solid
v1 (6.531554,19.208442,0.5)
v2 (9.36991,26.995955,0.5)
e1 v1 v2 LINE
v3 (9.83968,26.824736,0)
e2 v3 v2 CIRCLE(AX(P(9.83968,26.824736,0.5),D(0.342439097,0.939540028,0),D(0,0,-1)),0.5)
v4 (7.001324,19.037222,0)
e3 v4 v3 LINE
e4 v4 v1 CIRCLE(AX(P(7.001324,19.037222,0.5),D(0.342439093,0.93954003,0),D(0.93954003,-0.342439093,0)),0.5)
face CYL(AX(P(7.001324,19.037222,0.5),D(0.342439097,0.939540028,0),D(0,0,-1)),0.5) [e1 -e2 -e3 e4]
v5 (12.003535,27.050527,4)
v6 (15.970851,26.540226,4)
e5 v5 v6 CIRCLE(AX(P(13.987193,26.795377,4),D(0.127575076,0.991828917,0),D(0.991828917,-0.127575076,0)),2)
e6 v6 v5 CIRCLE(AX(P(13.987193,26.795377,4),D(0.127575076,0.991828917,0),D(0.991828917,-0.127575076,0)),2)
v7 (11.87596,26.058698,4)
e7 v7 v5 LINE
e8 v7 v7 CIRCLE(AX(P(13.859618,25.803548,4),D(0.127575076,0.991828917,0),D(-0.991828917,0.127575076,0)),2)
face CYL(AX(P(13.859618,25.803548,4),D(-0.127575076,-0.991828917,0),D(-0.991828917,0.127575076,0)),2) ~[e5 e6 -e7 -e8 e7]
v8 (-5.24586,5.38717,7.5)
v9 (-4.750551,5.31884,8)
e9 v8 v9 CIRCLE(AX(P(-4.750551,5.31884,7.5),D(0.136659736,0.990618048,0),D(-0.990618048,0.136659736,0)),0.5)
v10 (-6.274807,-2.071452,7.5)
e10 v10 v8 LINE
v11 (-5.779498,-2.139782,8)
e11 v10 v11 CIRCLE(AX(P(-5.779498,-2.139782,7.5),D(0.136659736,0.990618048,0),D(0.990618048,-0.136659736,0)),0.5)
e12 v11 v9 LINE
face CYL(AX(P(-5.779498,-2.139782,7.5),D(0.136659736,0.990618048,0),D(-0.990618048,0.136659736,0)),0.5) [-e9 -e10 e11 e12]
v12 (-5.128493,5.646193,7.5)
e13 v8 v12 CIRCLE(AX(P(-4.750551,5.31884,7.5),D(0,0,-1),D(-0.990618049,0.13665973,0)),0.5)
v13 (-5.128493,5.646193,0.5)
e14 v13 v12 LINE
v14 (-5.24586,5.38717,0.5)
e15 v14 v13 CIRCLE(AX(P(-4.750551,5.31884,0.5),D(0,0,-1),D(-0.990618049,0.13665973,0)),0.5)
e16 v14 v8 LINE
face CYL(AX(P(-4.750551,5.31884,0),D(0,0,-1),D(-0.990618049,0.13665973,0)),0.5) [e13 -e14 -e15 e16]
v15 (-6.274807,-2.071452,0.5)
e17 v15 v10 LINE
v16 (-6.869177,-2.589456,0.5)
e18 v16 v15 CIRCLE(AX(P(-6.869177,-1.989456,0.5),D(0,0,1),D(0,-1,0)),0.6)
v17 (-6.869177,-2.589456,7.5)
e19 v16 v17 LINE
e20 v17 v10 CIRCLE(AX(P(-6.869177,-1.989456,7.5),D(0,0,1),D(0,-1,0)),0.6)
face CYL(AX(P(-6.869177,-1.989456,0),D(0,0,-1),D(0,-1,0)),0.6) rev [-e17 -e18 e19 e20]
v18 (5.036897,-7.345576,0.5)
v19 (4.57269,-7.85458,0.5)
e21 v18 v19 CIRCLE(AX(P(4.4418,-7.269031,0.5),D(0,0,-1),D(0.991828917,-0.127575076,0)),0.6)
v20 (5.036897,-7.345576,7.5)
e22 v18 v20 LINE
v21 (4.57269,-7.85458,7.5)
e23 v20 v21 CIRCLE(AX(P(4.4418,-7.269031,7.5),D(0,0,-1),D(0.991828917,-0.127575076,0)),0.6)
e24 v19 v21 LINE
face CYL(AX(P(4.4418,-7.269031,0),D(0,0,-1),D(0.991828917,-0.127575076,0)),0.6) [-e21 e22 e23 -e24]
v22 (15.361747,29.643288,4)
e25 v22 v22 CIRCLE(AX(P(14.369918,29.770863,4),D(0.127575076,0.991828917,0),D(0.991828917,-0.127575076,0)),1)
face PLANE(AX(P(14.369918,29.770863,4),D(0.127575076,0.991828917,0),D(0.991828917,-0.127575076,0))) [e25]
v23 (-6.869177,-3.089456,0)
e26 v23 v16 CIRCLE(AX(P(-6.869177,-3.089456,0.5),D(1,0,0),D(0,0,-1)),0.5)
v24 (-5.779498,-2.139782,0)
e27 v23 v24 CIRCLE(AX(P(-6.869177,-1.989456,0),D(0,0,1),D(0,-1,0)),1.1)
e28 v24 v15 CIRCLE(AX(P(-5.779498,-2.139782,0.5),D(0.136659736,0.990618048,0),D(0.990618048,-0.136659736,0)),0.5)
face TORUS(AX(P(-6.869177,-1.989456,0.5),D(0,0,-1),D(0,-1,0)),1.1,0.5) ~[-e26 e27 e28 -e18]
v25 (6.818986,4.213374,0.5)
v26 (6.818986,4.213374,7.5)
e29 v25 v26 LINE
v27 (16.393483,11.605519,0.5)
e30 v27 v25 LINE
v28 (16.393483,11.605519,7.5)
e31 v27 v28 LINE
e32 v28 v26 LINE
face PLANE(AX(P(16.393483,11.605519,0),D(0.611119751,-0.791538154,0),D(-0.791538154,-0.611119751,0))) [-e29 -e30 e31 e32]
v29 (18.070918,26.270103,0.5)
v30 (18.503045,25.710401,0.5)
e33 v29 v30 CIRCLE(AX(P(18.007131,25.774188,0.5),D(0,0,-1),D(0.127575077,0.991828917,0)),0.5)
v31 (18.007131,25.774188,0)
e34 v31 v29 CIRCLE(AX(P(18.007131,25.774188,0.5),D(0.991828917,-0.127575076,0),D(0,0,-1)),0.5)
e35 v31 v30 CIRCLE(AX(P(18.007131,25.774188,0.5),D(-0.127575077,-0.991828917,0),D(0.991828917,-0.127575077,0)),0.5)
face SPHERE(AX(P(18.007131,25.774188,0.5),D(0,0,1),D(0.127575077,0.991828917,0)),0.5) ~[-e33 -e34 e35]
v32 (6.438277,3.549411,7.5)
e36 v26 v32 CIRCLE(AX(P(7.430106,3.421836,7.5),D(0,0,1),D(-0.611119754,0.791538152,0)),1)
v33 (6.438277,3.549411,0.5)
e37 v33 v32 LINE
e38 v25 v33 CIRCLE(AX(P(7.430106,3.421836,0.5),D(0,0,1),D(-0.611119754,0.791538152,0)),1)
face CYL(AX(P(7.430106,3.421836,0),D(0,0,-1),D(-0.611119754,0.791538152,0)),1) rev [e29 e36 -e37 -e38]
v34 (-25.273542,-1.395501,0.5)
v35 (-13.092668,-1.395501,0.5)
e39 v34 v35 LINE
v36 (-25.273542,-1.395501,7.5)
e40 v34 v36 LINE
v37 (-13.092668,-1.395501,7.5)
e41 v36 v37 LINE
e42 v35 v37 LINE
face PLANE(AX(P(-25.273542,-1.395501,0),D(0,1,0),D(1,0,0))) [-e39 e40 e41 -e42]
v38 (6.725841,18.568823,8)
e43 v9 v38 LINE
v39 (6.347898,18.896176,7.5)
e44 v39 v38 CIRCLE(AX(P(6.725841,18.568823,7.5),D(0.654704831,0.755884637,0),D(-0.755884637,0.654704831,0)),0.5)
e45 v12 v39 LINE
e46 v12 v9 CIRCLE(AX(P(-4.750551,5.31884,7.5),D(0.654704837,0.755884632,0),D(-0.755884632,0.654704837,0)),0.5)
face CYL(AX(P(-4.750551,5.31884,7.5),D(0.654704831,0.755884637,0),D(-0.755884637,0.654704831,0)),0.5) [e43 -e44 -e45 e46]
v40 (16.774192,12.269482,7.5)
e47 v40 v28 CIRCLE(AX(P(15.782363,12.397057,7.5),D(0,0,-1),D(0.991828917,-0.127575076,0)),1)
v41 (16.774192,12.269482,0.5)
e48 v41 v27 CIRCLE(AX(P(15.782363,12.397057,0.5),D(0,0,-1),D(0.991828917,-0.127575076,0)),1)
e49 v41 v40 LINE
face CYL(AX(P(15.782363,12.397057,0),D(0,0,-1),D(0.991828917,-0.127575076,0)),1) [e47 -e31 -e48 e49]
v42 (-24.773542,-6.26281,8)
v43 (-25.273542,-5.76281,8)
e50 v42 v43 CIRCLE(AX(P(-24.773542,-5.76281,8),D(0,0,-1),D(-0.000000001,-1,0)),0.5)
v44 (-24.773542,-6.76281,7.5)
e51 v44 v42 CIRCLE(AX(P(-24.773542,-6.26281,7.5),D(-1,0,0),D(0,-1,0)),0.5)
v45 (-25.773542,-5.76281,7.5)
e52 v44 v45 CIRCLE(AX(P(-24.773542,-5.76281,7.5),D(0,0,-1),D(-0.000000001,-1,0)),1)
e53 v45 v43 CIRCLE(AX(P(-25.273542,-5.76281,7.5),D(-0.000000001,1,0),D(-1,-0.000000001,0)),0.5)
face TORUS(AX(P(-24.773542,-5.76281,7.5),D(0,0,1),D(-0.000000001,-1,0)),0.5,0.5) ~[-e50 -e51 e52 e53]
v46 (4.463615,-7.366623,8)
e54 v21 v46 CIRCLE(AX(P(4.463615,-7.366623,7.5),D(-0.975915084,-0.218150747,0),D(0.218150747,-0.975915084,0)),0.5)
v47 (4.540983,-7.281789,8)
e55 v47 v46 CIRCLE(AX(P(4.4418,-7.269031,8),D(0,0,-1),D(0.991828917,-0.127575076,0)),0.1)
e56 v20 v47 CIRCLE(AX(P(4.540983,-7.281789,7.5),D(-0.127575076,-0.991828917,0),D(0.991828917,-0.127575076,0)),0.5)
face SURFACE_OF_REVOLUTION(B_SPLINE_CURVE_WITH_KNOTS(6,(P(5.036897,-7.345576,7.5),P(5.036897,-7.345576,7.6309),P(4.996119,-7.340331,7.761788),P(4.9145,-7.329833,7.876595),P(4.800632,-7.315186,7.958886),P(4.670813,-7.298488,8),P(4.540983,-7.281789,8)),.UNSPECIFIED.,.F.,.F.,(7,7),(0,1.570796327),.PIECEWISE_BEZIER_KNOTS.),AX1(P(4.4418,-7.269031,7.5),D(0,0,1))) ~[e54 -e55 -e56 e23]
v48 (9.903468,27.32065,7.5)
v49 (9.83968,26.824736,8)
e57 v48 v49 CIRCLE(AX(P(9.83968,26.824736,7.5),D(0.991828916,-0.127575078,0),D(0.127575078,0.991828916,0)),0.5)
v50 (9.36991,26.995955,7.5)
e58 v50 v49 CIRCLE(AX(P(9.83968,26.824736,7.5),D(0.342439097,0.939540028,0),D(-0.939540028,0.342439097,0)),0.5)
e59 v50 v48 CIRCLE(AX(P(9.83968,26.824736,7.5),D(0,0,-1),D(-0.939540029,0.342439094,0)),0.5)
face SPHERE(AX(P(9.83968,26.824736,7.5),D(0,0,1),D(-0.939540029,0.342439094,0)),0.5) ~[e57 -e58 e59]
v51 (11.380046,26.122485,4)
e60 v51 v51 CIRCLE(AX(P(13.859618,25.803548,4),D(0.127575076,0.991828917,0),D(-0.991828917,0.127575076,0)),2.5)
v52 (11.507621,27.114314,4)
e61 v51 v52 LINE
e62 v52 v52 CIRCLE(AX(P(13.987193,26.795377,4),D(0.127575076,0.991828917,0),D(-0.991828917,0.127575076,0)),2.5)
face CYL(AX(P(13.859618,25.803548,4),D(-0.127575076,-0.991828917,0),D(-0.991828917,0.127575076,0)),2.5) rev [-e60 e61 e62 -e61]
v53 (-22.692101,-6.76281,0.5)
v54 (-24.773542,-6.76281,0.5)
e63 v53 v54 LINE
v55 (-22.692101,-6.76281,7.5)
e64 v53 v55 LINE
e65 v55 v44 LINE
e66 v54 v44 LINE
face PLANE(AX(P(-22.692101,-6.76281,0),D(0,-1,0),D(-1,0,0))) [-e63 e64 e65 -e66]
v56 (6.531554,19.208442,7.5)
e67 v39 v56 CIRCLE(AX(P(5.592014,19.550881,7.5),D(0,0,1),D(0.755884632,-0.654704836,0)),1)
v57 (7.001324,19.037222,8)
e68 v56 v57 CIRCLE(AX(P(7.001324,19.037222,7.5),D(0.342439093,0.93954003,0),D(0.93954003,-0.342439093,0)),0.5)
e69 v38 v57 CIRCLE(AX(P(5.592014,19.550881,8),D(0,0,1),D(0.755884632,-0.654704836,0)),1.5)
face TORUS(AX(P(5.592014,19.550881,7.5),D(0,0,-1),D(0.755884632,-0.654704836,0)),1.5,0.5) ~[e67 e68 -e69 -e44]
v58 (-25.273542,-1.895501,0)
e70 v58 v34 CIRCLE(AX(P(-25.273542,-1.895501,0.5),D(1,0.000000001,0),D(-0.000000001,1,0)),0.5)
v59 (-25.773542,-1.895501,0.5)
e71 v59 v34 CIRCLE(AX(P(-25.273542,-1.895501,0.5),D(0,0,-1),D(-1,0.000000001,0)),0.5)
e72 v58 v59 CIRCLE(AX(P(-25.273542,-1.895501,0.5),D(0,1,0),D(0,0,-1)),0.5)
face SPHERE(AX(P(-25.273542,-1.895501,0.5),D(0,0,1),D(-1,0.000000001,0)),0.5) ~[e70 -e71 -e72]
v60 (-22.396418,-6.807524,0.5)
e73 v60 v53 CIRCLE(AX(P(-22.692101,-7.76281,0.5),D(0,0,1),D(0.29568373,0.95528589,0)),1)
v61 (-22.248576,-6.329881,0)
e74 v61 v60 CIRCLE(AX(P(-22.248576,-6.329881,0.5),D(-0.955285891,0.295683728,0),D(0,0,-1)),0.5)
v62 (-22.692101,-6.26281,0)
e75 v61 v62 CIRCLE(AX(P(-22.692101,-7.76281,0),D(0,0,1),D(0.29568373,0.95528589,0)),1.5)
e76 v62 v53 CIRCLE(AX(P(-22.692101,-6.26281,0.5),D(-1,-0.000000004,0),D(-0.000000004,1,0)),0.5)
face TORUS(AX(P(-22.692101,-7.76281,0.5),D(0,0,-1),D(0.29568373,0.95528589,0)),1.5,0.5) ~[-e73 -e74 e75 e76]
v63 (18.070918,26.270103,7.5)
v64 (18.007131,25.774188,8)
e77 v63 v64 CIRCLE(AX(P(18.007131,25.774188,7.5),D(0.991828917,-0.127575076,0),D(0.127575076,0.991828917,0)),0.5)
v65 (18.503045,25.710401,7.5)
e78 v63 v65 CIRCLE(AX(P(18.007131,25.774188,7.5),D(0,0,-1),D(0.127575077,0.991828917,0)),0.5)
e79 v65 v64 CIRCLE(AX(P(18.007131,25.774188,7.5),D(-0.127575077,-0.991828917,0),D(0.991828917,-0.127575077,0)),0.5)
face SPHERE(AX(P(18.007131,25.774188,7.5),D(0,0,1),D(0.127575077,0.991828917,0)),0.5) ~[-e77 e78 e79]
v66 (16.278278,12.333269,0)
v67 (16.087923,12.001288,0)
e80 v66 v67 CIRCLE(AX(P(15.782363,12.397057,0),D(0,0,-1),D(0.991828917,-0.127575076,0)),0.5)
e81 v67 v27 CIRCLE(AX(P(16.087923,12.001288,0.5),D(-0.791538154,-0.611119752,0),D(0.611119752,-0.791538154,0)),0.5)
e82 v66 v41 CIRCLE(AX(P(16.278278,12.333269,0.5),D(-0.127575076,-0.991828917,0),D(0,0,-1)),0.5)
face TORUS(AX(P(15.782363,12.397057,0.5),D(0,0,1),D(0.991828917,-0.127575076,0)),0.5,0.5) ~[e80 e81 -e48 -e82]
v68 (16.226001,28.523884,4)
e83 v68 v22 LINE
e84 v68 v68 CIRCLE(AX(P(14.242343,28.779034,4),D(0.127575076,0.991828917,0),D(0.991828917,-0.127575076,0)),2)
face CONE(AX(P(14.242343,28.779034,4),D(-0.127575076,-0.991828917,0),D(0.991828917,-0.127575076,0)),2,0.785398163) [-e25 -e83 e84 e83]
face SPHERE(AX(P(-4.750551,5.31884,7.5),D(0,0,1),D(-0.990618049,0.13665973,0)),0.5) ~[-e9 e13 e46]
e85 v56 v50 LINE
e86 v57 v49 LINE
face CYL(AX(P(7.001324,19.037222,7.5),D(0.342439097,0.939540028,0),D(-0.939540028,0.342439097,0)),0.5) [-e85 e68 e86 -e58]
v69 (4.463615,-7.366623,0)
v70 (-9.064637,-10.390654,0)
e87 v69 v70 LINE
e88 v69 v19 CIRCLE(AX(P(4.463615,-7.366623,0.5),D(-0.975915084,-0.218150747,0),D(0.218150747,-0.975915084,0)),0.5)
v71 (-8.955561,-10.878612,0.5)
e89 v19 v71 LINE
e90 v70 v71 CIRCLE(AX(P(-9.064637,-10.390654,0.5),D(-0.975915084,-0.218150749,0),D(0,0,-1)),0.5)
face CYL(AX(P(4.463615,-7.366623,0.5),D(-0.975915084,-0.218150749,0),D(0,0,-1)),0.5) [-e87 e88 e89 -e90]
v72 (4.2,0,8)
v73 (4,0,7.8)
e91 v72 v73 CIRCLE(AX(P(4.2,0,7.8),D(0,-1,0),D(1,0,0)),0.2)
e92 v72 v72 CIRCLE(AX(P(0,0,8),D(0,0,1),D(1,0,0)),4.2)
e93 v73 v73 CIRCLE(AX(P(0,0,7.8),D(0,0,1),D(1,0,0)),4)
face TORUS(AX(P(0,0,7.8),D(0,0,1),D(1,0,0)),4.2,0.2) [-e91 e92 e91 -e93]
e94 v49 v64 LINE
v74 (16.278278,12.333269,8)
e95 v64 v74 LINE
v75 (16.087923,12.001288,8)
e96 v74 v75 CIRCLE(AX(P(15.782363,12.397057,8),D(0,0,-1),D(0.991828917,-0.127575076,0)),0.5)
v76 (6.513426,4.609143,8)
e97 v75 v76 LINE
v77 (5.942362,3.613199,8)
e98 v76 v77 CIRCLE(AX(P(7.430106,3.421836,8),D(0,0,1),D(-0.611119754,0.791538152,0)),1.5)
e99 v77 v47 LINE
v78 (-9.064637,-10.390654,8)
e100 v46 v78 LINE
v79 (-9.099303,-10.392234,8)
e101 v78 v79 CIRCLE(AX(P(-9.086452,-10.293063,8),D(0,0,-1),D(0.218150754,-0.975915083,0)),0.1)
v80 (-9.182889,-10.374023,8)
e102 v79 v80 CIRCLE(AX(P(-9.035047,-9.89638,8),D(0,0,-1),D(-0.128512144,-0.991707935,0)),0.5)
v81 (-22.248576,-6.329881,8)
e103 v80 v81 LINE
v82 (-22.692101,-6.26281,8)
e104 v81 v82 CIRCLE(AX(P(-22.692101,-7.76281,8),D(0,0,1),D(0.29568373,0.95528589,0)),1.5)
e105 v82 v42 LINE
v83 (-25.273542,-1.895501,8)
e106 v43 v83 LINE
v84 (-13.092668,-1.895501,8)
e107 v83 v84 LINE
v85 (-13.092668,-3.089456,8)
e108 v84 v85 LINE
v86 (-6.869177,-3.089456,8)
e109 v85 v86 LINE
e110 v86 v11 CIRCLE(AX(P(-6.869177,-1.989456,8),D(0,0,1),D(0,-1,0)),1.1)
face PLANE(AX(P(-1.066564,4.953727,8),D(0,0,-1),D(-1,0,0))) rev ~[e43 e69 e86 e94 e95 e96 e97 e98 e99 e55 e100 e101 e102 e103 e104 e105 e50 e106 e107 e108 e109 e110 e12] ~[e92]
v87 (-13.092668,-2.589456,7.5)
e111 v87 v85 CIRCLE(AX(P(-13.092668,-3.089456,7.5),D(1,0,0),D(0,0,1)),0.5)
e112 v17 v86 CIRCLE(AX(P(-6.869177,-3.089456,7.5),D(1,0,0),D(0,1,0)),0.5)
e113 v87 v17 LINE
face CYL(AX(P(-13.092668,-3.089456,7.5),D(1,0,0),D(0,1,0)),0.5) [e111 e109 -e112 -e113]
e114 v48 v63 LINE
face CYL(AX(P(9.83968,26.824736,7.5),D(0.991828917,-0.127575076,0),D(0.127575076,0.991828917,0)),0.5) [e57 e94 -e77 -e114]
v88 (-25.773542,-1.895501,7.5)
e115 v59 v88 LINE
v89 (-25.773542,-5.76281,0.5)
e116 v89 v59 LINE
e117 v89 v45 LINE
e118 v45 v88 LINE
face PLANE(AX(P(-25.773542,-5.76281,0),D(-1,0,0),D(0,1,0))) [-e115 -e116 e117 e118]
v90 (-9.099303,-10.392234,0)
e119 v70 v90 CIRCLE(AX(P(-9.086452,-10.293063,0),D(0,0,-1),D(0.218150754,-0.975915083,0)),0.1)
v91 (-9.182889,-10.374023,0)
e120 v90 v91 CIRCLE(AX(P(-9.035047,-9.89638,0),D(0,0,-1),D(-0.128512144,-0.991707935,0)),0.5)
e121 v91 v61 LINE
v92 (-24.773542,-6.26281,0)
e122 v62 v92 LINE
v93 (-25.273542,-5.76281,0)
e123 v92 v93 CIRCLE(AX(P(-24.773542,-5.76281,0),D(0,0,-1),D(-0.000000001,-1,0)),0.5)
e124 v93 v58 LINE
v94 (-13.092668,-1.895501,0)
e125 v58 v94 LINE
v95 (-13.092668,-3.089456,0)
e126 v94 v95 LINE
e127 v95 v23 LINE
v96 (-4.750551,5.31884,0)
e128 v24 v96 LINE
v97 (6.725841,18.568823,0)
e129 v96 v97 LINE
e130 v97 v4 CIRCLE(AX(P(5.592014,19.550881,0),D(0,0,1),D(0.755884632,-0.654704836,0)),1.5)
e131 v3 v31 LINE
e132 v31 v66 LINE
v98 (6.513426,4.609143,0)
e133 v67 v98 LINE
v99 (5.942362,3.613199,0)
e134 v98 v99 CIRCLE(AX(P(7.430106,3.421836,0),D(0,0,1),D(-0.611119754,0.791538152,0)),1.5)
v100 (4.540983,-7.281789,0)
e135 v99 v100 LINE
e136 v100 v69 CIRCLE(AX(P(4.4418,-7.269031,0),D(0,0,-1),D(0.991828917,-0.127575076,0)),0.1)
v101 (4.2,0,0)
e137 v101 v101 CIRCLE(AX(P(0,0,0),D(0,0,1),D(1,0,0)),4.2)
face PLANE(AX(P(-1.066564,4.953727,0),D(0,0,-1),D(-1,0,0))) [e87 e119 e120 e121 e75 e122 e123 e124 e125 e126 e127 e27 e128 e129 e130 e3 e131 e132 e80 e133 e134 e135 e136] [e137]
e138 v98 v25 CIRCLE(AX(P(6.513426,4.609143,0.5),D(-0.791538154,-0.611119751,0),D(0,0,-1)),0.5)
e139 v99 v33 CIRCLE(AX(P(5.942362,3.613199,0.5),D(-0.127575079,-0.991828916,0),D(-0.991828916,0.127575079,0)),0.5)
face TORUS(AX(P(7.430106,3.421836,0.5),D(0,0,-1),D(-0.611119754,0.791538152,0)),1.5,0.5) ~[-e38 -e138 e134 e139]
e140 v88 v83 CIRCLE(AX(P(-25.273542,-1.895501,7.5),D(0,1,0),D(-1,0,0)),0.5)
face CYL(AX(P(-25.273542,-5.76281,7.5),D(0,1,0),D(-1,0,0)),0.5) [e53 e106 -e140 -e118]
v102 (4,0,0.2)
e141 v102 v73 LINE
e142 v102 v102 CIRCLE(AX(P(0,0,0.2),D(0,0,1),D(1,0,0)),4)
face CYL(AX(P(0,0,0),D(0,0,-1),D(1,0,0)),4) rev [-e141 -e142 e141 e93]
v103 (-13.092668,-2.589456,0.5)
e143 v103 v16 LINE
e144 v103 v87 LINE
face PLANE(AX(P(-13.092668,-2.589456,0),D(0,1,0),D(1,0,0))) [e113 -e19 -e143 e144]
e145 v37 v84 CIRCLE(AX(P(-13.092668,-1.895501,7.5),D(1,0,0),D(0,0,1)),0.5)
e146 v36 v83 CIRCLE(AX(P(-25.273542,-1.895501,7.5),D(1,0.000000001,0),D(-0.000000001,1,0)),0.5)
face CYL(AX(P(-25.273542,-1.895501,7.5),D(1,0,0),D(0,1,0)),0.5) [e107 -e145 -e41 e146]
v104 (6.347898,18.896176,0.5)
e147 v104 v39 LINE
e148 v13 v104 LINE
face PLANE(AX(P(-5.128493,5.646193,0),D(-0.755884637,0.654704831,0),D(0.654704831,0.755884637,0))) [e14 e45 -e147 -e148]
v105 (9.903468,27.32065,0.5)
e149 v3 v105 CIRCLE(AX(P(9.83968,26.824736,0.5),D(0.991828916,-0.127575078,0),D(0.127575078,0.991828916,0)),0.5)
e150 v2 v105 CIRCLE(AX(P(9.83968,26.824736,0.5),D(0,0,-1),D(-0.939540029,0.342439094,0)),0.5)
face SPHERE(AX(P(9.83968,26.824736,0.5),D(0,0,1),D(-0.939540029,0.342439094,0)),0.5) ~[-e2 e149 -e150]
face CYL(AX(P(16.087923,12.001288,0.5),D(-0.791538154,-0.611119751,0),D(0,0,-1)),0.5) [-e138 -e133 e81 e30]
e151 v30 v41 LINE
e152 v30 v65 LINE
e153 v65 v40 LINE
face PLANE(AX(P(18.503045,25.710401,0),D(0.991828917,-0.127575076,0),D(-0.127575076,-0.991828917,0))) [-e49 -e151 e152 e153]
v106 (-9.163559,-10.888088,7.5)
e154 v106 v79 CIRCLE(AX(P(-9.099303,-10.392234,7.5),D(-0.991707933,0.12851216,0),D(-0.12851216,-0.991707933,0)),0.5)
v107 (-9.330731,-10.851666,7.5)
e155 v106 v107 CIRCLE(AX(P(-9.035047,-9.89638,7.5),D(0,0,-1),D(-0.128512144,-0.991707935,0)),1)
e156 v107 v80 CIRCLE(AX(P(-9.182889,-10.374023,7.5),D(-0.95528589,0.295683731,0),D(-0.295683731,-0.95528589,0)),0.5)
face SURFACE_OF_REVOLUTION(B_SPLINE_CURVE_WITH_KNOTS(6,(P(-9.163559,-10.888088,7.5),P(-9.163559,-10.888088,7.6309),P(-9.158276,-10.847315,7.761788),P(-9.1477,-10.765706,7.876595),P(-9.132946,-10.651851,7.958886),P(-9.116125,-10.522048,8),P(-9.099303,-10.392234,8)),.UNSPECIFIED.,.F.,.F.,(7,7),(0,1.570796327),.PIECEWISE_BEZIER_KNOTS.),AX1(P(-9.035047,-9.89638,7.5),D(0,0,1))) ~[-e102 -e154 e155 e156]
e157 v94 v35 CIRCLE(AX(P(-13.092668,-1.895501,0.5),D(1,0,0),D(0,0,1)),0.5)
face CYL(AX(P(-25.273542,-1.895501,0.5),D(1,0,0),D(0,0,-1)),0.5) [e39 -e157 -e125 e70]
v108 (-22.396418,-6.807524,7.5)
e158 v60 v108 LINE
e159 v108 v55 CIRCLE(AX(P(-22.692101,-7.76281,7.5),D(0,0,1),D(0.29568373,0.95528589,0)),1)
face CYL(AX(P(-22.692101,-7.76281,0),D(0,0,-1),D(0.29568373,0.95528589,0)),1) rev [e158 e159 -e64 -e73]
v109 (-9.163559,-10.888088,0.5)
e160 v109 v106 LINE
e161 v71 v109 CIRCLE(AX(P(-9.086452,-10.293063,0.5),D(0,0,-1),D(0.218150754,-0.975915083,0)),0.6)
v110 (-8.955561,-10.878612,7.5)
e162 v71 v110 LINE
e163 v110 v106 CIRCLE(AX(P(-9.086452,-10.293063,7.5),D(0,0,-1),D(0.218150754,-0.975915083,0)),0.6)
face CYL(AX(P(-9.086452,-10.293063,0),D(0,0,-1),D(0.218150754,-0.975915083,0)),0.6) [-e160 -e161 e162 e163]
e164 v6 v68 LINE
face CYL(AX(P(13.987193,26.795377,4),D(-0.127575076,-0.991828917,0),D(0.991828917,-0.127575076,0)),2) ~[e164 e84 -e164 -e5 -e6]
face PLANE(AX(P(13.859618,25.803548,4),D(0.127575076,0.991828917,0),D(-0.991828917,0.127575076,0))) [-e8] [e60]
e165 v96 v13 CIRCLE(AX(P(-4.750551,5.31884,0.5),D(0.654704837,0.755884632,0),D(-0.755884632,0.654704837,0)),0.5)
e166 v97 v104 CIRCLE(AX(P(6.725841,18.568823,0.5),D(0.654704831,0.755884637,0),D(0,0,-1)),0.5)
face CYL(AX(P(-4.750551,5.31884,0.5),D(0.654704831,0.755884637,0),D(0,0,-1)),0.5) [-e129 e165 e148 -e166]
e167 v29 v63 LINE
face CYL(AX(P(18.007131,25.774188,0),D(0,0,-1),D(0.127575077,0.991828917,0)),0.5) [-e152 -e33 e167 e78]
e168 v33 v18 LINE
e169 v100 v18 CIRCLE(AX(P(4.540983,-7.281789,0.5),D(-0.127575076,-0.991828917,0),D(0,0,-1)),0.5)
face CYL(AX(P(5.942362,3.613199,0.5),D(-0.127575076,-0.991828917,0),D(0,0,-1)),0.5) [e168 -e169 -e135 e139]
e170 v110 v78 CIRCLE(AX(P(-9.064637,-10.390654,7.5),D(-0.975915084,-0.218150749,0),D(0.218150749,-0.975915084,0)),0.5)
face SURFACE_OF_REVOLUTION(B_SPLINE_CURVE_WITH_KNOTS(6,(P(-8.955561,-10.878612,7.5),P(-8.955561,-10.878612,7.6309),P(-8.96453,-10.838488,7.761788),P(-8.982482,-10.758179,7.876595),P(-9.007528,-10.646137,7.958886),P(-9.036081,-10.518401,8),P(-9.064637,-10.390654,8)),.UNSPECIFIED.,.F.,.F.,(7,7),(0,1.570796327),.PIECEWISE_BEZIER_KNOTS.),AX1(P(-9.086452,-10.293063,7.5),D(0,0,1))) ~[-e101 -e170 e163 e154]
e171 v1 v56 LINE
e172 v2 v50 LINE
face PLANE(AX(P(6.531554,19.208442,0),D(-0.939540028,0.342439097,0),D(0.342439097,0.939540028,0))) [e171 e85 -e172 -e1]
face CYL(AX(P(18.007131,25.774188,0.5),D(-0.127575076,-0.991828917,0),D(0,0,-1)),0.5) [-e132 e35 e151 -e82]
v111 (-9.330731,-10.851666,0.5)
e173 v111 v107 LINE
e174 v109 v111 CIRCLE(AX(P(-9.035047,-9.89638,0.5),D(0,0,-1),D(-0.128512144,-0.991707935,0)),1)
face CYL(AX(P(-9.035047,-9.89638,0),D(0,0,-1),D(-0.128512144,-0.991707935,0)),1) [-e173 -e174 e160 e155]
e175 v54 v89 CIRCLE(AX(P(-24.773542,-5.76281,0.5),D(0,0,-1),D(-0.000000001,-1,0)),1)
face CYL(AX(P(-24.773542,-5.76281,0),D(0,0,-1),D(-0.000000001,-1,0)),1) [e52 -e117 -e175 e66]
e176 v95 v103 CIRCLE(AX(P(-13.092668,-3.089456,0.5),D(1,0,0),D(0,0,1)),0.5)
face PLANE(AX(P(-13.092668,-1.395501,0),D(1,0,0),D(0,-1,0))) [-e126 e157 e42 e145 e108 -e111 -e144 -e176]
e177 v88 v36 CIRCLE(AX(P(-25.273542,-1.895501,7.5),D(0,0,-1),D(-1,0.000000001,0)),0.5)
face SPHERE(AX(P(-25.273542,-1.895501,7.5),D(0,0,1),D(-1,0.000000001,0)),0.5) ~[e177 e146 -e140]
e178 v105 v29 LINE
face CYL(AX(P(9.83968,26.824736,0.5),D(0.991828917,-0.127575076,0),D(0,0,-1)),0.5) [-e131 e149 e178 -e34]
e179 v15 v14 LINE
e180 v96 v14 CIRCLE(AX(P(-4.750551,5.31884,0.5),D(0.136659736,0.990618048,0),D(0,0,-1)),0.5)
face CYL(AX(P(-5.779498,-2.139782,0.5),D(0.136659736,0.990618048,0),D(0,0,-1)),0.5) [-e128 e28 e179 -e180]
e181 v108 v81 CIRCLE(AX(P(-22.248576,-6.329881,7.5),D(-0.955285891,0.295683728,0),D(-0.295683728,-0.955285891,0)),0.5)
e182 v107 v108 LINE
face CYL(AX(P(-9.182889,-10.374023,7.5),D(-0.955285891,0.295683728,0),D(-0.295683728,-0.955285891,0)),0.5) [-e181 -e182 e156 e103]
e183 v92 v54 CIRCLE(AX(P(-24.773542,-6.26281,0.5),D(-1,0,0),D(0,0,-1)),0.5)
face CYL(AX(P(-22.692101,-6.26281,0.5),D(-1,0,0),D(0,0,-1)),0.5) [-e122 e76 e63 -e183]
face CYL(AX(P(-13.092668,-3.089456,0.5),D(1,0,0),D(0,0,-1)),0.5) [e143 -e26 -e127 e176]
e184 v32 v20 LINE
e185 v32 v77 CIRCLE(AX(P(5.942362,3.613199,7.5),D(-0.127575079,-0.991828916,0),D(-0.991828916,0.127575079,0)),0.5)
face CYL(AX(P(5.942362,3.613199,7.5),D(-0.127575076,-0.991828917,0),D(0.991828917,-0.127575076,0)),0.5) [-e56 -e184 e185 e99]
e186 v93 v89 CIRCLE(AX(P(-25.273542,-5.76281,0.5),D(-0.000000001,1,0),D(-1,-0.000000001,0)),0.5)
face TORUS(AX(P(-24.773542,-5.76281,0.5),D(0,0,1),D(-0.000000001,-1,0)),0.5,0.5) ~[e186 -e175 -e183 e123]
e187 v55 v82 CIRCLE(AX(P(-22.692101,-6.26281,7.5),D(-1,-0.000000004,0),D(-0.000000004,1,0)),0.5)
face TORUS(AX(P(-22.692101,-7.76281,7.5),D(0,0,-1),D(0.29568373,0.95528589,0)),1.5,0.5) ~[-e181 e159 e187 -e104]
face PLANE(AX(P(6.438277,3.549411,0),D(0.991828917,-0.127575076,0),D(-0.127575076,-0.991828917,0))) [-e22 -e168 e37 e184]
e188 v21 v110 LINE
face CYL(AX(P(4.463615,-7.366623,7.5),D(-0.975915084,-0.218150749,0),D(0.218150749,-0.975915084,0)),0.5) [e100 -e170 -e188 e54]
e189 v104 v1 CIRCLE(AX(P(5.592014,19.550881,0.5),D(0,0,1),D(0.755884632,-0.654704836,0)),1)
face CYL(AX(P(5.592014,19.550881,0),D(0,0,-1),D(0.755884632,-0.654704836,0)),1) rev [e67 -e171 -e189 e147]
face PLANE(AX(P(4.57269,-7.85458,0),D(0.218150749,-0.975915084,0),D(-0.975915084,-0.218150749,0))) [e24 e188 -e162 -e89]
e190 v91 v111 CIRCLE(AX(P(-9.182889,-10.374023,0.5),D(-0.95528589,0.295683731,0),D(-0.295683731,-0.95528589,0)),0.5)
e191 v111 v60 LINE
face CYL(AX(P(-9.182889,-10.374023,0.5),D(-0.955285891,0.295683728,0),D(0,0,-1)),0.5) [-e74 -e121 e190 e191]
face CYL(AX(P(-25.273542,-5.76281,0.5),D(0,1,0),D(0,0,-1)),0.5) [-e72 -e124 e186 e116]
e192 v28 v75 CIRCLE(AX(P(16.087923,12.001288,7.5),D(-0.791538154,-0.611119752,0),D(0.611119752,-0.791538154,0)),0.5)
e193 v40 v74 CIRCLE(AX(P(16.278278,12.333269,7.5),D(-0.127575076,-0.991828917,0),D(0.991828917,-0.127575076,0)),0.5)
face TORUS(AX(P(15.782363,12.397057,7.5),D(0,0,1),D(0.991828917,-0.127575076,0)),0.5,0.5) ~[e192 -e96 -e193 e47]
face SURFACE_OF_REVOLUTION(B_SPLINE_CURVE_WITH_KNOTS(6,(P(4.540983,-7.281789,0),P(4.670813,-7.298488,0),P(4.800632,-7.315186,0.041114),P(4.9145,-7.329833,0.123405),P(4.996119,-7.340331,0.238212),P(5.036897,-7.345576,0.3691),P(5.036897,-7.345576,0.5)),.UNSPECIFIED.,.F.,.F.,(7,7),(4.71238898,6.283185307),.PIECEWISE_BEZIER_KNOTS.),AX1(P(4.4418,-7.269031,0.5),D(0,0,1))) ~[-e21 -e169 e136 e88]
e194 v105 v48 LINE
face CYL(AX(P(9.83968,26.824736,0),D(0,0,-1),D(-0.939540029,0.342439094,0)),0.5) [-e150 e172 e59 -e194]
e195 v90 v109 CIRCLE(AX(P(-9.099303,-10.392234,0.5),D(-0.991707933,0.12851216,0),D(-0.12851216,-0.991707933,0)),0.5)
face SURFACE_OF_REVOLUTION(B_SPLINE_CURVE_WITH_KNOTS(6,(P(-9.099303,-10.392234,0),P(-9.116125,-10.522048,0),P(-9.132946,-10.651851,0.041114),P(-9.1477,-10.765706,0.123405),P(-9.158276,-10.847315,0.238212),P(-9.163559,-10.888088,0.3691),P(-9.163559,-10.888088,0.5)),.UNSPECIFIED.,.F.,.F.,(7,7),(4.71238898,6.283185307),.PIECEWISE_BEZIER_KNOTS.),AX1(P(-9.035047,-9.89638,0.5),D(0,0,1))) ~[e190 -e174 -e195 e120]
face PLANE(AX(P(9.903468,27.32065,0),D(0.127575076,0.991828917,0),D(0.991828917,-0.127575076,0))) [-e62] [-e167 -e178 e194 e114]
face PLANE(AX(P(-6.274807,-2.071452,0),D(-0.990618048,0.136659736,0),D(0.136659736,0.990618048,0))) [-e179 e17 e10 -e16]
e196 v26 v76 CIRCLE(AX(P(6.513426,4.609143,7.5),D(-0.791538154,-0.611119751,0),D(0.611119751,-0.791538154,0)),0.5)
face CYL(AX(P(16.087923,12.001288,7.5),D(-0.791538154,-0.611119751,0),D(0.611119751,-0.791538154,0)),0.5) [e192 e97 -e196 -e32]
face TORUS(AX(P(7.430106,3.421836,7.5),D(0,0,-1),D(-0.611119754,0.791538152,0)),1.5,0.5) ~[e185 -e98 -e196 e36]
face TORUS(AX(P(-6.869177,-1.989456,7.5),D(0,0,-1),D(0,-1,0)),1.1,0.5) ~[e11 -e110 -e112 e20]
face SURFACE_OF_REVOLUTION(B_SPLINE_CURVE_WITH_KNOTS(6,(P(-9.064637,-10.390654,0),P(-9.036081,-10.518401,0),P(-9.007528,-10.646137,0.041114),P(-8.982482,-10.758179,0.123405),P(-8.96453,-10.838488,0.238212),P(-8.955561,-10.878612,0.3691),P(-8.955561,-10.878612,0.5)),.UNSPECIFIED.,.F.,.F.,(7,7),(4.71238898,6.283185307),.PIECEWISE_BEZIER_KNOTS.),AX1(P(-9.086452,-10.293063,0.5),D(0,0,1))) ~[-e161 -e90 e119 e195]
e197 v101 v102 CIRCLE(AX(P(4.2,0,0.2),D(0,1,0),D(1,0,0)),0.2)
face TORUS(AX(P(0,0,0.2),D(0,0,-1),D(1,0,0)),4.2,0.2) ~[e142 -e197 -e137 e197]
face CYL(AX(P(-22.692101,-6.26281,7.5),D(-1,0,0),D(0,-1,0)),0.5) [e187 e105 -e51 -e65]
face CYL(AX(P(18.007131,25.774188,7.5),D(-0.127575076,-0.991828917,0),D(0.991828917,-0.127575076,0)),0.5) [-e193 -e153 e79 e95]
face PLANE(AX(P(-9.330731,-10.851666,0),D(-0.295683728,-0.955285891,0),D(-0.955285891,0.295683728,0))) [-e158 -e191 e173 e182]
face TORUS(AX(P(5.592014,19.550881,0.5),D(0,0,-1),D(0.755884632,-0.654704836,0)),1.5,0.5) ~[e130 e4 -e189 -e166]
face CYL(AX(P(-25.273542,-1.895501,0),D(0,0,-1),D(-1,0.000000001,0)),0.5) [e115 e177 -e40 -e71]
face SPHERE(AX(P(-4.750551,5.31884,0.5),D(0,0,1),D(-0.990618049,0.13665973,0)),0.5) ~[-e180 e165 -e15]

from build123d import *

# Parameters (mm, degrees)
SKETCH_1_R          = 4
EXTRUDE_1_DEPTH     = 8
SKETCH_2_R          = 2
EXTRUDE_2_DEPTH     = 3
CHAMFER_1_SIZE      = 1
FILLET_1_R          = 0.2
CUT_EXTRUDE_START   = -1
SKETCH_3_R          = 2.5
SKETCH_3_R_2        = 2
CUT_EXTRUDE_1_DEPTH = 1
FILLET_2_R          = 0.5


with BuildPart() as part:
    # 스케치1 → 보스-돌출1 (new body)
    with BuildSketch(Plane.XY):
        with BuildLine():
            Line((18.503045264, 25.710400876), (16.774192381, 12.269481729))
            ThreePointArc((16.774192381, 12.269481729), (16.649873032, 11.899636309), (16.393483216, 11.605518651))
            Line((16.393483216, 11.605518651), (6.818985785, 4.213374054))
            ThreePointArc((6.818985785, 4.213374054), (6.562595969, 3.919256395), (6.43827662, 3.549410976))
            Line((6.43827662, 3.549410976), (5.036897025, -7.345576114))
            ThreePointArc((5.036897025, -7.345576114), (4.885123304, -7.67333808), (4.572690124, -7.854580118))
            Line((4.572690124, -7.854580118), (-8.955561464, -10.878611884))
            ThreePointArc((-8.955561464, -10.878611884), (-9.059146158, -10.892441175), (-9.163559205, -10.888087594))
            ThreePointArc((-9.163559205, -10.888087594), (-9.247925369, -10.873458379), (-9.330730781, -10.851665551))
            Line((-9.330730781, -10.851665551), (-22.39641752, -6.807524417))
            ThreePointArc((-22.39641752, -6.807524417), (-22.542578492, -6.774052023), (-22.692101248, -6.762810308))
            Line((-22.692101248, -6.762810308), (-24.7735417, -6.762810308))
            ThreePointArc((-24.7735417, -6.762810308), (-25.480648481, -6.469917089), (-25.7735417, -5.762810308))
            Line((-25.7735417, -5.762810308), (-25.7735417, -1.895501216))
            ThreePointArc((-25.7735417, -1.895501216), (-25.62709509, -1.541947825), (-25.2735417, -1.395501216))
            Line((-25.2735417, -1.395501216), (-13.092668434, -1.395501216))
            Line((-13.092668434, -1.395501216), (-13.092668434, -2.589456262))
            Line((-13.092668434, -2.589456262), (-6.869177412, -2.589456262))
            ThreePointArc((-6.869177412, -2.589456262), (-6.474967763, -2.441782198), (-6.274806584, -2.071452104))
            Line((-6.274806584, -2.071452104), (-5.245859717, 5.387170068))
            ThreePointArc((-5.245859717, 5.387170068), (-5.205979224, 5.525201179), (-5.128493011, 5.646192616))
            Line((-5.128493011, 5.646192616), (6.347898488, 18.896175834))
            ThreePointArc((6.347898488, 18.896175834), (6.453984658, 19.043922748), (6.53155388, 19.208441568))
            Line((6.53155388, 19.208441568), (9.369909955, 26.995955233))
            ThreePointArc((9.369909955, 26.995955233), (9.579752789, 27.251863138), (9.903467507, 27.320650143))
            Line((9.903467507, 27.320650143), (18.070918344, 26.270102873))
            ThreePointArc((18.070918344, 26.270102873), (18.402899883, 26.07974829), (18.503045264, 25.710400876))
        make_face()
        Circle(SKETCH_1_R, mode=Mode.SUBTRACT)
    extrude(amount=EXTRUDE_1_DEPTH)

    # 스케치2 → 보스-돌출2 (add)
    with BuildSketch(Plane(origin=(3.618137143, 28.129107616, 0), x_dir=(0.9918289166876348, -0.1275750760228385, 0), z_dir=(0.1275750760228385, 0.9918289166876348, 0))):
        with Locations((10.454480212, -4)):
            Circle(SKETCH_2_R)
    extrude(amount=EXTRUDE_2_DEPTH)

    # 모따기1
    chamfer_1_edges = [part.edges().sort_by_distance(p)[0] for p in [
        (12.38626032, 30.02601341, 4),
    ]]
    chamfer(chamfer_1_edges, length=CHAMFER_1_SIZE)

    # 필렛1
    fillet_1_edges = [part.edges().sort_by_distance(p)[0] for p in [
        (-4, 0, 0),
        (-4, 0, 8),
    ]]
    fillet(fillet_1_edges, radius=FILLET_1_R)

    # 스케치3 → 컷-돌출1 (cut)
    with BuildSketch(Plane(origin=(3.618137143, 28.129107616, 0), x_dir=(0.9918289166876348, -0.1275750760228385, 0), z_dir=(0.1275750760228385, 0.9918289166876348, 0)).offset(CUT_EXTRUDE_START)):
        with Locations(Location((10.454480212, -4, 0), (0, 0, 180))):
            Circle(SKETCH_3_R)
        with Locations(Location((10.454480212, -4, 0), (0, 0, 180))):
            Circle(SKETCH_3_R_2, mode=Mode.SUBTRACT)
    extrude(amount=CUT_EXTRUDE_1_DEPTH, mode=Mode.SUBTRACT)

    # 필렛2
    fillet_2_edges = [part.edges().sort_by_distance(p)[0] for p in [
        (6.562595969, 3.919256395, 8),
        (11.606234501, 7.909446352, 8),
        (16.649873032, 11.899636309, 8),
        (17.638618823, 18.989941303, 8),
        (18.402899883, 26.07974829, 8),
        (-2.19143567, -9.366596001, 0),
        (-9.059146158, -10.892441175, 0),
        (-9.247925369, -10.873458379, 0),
        (-15.86357415, -8.829594984, 0),
        (-22.542578492, -6.774052023, 0),
        (-23.732821474, -6.762810308, 0),
        (13.987192925, 26.795376508, 8),
        (-25.480648481, -6.469917089, 0),
        (-25.7735417, -3.829155762, 0),
        (-25.62709509, -1.541947825, 0),
        (-19.183105067, -1.395501216, 0),
        (-9.980922923, -2.589456262, 0),
        (-6.474967763, -2.441782198, 0),
        (9.579752789, 27.251863138, 8),
        (-5.76033315, 1.657858982, 0),
        (-5.205979224, 5.525201179, 0),
        (0.609702738, 12.271184225, 0),
        (6.453984658, 19.043922748, 0),
        (7.950731917, 23.102198401, 0),
        (9.579752789, 27.251863138, 0),
        (13.987192925, 26.795376508, 0),
        (18.402899883, 26.07974829, 0),
        (7.950731917, 23.102198401, 8),
        (17.638618823, 18.989941303, 0),
        (16.649873032, 11.899636309, 0),
        (11.606234501, 7.909446352, 0),
        (6.562595969, 3.919256395, 0),
        (5.737586822, -1.898082569, 0),
        (4.885123304, -7.67333808, 0),
        (6.453984658, 19.043922748, 8),
        (0.609702738, 12.271184225, 8),
        (4.885123304, -7.67333808, 8),
        (-5.205979224, 5.525201179, 8),
        (-5.76033315, 1.657858982, 8),
        (-6.474967763, -2.441782198, 8),
        (-9.980922923, -2.589456262, 8),
        (-19.183105067, -1.395501216, 8),
        (-25.62709509, -1.541947825, 8),
        (-25.7735417, -3.829155762, 8),
        (-25.480648481, -6.469917089, 8),
        (-23.732821474, -6.762810308, 8),
        (5.737586822, -1.898082569, 8),
        (-22.542578492, -6.774052023, 8),
        (-15.86357415, -8.829594984, 8),
        (-9.247925369, -10.873458379, 8),
        (-9.059146158, -10.892441175, 8),
        (-2.19143567, -9.366596001, 8),
    ]]
    fillet(fillet_2_edges, radius=FILLET_2_R)


solid = part.part
